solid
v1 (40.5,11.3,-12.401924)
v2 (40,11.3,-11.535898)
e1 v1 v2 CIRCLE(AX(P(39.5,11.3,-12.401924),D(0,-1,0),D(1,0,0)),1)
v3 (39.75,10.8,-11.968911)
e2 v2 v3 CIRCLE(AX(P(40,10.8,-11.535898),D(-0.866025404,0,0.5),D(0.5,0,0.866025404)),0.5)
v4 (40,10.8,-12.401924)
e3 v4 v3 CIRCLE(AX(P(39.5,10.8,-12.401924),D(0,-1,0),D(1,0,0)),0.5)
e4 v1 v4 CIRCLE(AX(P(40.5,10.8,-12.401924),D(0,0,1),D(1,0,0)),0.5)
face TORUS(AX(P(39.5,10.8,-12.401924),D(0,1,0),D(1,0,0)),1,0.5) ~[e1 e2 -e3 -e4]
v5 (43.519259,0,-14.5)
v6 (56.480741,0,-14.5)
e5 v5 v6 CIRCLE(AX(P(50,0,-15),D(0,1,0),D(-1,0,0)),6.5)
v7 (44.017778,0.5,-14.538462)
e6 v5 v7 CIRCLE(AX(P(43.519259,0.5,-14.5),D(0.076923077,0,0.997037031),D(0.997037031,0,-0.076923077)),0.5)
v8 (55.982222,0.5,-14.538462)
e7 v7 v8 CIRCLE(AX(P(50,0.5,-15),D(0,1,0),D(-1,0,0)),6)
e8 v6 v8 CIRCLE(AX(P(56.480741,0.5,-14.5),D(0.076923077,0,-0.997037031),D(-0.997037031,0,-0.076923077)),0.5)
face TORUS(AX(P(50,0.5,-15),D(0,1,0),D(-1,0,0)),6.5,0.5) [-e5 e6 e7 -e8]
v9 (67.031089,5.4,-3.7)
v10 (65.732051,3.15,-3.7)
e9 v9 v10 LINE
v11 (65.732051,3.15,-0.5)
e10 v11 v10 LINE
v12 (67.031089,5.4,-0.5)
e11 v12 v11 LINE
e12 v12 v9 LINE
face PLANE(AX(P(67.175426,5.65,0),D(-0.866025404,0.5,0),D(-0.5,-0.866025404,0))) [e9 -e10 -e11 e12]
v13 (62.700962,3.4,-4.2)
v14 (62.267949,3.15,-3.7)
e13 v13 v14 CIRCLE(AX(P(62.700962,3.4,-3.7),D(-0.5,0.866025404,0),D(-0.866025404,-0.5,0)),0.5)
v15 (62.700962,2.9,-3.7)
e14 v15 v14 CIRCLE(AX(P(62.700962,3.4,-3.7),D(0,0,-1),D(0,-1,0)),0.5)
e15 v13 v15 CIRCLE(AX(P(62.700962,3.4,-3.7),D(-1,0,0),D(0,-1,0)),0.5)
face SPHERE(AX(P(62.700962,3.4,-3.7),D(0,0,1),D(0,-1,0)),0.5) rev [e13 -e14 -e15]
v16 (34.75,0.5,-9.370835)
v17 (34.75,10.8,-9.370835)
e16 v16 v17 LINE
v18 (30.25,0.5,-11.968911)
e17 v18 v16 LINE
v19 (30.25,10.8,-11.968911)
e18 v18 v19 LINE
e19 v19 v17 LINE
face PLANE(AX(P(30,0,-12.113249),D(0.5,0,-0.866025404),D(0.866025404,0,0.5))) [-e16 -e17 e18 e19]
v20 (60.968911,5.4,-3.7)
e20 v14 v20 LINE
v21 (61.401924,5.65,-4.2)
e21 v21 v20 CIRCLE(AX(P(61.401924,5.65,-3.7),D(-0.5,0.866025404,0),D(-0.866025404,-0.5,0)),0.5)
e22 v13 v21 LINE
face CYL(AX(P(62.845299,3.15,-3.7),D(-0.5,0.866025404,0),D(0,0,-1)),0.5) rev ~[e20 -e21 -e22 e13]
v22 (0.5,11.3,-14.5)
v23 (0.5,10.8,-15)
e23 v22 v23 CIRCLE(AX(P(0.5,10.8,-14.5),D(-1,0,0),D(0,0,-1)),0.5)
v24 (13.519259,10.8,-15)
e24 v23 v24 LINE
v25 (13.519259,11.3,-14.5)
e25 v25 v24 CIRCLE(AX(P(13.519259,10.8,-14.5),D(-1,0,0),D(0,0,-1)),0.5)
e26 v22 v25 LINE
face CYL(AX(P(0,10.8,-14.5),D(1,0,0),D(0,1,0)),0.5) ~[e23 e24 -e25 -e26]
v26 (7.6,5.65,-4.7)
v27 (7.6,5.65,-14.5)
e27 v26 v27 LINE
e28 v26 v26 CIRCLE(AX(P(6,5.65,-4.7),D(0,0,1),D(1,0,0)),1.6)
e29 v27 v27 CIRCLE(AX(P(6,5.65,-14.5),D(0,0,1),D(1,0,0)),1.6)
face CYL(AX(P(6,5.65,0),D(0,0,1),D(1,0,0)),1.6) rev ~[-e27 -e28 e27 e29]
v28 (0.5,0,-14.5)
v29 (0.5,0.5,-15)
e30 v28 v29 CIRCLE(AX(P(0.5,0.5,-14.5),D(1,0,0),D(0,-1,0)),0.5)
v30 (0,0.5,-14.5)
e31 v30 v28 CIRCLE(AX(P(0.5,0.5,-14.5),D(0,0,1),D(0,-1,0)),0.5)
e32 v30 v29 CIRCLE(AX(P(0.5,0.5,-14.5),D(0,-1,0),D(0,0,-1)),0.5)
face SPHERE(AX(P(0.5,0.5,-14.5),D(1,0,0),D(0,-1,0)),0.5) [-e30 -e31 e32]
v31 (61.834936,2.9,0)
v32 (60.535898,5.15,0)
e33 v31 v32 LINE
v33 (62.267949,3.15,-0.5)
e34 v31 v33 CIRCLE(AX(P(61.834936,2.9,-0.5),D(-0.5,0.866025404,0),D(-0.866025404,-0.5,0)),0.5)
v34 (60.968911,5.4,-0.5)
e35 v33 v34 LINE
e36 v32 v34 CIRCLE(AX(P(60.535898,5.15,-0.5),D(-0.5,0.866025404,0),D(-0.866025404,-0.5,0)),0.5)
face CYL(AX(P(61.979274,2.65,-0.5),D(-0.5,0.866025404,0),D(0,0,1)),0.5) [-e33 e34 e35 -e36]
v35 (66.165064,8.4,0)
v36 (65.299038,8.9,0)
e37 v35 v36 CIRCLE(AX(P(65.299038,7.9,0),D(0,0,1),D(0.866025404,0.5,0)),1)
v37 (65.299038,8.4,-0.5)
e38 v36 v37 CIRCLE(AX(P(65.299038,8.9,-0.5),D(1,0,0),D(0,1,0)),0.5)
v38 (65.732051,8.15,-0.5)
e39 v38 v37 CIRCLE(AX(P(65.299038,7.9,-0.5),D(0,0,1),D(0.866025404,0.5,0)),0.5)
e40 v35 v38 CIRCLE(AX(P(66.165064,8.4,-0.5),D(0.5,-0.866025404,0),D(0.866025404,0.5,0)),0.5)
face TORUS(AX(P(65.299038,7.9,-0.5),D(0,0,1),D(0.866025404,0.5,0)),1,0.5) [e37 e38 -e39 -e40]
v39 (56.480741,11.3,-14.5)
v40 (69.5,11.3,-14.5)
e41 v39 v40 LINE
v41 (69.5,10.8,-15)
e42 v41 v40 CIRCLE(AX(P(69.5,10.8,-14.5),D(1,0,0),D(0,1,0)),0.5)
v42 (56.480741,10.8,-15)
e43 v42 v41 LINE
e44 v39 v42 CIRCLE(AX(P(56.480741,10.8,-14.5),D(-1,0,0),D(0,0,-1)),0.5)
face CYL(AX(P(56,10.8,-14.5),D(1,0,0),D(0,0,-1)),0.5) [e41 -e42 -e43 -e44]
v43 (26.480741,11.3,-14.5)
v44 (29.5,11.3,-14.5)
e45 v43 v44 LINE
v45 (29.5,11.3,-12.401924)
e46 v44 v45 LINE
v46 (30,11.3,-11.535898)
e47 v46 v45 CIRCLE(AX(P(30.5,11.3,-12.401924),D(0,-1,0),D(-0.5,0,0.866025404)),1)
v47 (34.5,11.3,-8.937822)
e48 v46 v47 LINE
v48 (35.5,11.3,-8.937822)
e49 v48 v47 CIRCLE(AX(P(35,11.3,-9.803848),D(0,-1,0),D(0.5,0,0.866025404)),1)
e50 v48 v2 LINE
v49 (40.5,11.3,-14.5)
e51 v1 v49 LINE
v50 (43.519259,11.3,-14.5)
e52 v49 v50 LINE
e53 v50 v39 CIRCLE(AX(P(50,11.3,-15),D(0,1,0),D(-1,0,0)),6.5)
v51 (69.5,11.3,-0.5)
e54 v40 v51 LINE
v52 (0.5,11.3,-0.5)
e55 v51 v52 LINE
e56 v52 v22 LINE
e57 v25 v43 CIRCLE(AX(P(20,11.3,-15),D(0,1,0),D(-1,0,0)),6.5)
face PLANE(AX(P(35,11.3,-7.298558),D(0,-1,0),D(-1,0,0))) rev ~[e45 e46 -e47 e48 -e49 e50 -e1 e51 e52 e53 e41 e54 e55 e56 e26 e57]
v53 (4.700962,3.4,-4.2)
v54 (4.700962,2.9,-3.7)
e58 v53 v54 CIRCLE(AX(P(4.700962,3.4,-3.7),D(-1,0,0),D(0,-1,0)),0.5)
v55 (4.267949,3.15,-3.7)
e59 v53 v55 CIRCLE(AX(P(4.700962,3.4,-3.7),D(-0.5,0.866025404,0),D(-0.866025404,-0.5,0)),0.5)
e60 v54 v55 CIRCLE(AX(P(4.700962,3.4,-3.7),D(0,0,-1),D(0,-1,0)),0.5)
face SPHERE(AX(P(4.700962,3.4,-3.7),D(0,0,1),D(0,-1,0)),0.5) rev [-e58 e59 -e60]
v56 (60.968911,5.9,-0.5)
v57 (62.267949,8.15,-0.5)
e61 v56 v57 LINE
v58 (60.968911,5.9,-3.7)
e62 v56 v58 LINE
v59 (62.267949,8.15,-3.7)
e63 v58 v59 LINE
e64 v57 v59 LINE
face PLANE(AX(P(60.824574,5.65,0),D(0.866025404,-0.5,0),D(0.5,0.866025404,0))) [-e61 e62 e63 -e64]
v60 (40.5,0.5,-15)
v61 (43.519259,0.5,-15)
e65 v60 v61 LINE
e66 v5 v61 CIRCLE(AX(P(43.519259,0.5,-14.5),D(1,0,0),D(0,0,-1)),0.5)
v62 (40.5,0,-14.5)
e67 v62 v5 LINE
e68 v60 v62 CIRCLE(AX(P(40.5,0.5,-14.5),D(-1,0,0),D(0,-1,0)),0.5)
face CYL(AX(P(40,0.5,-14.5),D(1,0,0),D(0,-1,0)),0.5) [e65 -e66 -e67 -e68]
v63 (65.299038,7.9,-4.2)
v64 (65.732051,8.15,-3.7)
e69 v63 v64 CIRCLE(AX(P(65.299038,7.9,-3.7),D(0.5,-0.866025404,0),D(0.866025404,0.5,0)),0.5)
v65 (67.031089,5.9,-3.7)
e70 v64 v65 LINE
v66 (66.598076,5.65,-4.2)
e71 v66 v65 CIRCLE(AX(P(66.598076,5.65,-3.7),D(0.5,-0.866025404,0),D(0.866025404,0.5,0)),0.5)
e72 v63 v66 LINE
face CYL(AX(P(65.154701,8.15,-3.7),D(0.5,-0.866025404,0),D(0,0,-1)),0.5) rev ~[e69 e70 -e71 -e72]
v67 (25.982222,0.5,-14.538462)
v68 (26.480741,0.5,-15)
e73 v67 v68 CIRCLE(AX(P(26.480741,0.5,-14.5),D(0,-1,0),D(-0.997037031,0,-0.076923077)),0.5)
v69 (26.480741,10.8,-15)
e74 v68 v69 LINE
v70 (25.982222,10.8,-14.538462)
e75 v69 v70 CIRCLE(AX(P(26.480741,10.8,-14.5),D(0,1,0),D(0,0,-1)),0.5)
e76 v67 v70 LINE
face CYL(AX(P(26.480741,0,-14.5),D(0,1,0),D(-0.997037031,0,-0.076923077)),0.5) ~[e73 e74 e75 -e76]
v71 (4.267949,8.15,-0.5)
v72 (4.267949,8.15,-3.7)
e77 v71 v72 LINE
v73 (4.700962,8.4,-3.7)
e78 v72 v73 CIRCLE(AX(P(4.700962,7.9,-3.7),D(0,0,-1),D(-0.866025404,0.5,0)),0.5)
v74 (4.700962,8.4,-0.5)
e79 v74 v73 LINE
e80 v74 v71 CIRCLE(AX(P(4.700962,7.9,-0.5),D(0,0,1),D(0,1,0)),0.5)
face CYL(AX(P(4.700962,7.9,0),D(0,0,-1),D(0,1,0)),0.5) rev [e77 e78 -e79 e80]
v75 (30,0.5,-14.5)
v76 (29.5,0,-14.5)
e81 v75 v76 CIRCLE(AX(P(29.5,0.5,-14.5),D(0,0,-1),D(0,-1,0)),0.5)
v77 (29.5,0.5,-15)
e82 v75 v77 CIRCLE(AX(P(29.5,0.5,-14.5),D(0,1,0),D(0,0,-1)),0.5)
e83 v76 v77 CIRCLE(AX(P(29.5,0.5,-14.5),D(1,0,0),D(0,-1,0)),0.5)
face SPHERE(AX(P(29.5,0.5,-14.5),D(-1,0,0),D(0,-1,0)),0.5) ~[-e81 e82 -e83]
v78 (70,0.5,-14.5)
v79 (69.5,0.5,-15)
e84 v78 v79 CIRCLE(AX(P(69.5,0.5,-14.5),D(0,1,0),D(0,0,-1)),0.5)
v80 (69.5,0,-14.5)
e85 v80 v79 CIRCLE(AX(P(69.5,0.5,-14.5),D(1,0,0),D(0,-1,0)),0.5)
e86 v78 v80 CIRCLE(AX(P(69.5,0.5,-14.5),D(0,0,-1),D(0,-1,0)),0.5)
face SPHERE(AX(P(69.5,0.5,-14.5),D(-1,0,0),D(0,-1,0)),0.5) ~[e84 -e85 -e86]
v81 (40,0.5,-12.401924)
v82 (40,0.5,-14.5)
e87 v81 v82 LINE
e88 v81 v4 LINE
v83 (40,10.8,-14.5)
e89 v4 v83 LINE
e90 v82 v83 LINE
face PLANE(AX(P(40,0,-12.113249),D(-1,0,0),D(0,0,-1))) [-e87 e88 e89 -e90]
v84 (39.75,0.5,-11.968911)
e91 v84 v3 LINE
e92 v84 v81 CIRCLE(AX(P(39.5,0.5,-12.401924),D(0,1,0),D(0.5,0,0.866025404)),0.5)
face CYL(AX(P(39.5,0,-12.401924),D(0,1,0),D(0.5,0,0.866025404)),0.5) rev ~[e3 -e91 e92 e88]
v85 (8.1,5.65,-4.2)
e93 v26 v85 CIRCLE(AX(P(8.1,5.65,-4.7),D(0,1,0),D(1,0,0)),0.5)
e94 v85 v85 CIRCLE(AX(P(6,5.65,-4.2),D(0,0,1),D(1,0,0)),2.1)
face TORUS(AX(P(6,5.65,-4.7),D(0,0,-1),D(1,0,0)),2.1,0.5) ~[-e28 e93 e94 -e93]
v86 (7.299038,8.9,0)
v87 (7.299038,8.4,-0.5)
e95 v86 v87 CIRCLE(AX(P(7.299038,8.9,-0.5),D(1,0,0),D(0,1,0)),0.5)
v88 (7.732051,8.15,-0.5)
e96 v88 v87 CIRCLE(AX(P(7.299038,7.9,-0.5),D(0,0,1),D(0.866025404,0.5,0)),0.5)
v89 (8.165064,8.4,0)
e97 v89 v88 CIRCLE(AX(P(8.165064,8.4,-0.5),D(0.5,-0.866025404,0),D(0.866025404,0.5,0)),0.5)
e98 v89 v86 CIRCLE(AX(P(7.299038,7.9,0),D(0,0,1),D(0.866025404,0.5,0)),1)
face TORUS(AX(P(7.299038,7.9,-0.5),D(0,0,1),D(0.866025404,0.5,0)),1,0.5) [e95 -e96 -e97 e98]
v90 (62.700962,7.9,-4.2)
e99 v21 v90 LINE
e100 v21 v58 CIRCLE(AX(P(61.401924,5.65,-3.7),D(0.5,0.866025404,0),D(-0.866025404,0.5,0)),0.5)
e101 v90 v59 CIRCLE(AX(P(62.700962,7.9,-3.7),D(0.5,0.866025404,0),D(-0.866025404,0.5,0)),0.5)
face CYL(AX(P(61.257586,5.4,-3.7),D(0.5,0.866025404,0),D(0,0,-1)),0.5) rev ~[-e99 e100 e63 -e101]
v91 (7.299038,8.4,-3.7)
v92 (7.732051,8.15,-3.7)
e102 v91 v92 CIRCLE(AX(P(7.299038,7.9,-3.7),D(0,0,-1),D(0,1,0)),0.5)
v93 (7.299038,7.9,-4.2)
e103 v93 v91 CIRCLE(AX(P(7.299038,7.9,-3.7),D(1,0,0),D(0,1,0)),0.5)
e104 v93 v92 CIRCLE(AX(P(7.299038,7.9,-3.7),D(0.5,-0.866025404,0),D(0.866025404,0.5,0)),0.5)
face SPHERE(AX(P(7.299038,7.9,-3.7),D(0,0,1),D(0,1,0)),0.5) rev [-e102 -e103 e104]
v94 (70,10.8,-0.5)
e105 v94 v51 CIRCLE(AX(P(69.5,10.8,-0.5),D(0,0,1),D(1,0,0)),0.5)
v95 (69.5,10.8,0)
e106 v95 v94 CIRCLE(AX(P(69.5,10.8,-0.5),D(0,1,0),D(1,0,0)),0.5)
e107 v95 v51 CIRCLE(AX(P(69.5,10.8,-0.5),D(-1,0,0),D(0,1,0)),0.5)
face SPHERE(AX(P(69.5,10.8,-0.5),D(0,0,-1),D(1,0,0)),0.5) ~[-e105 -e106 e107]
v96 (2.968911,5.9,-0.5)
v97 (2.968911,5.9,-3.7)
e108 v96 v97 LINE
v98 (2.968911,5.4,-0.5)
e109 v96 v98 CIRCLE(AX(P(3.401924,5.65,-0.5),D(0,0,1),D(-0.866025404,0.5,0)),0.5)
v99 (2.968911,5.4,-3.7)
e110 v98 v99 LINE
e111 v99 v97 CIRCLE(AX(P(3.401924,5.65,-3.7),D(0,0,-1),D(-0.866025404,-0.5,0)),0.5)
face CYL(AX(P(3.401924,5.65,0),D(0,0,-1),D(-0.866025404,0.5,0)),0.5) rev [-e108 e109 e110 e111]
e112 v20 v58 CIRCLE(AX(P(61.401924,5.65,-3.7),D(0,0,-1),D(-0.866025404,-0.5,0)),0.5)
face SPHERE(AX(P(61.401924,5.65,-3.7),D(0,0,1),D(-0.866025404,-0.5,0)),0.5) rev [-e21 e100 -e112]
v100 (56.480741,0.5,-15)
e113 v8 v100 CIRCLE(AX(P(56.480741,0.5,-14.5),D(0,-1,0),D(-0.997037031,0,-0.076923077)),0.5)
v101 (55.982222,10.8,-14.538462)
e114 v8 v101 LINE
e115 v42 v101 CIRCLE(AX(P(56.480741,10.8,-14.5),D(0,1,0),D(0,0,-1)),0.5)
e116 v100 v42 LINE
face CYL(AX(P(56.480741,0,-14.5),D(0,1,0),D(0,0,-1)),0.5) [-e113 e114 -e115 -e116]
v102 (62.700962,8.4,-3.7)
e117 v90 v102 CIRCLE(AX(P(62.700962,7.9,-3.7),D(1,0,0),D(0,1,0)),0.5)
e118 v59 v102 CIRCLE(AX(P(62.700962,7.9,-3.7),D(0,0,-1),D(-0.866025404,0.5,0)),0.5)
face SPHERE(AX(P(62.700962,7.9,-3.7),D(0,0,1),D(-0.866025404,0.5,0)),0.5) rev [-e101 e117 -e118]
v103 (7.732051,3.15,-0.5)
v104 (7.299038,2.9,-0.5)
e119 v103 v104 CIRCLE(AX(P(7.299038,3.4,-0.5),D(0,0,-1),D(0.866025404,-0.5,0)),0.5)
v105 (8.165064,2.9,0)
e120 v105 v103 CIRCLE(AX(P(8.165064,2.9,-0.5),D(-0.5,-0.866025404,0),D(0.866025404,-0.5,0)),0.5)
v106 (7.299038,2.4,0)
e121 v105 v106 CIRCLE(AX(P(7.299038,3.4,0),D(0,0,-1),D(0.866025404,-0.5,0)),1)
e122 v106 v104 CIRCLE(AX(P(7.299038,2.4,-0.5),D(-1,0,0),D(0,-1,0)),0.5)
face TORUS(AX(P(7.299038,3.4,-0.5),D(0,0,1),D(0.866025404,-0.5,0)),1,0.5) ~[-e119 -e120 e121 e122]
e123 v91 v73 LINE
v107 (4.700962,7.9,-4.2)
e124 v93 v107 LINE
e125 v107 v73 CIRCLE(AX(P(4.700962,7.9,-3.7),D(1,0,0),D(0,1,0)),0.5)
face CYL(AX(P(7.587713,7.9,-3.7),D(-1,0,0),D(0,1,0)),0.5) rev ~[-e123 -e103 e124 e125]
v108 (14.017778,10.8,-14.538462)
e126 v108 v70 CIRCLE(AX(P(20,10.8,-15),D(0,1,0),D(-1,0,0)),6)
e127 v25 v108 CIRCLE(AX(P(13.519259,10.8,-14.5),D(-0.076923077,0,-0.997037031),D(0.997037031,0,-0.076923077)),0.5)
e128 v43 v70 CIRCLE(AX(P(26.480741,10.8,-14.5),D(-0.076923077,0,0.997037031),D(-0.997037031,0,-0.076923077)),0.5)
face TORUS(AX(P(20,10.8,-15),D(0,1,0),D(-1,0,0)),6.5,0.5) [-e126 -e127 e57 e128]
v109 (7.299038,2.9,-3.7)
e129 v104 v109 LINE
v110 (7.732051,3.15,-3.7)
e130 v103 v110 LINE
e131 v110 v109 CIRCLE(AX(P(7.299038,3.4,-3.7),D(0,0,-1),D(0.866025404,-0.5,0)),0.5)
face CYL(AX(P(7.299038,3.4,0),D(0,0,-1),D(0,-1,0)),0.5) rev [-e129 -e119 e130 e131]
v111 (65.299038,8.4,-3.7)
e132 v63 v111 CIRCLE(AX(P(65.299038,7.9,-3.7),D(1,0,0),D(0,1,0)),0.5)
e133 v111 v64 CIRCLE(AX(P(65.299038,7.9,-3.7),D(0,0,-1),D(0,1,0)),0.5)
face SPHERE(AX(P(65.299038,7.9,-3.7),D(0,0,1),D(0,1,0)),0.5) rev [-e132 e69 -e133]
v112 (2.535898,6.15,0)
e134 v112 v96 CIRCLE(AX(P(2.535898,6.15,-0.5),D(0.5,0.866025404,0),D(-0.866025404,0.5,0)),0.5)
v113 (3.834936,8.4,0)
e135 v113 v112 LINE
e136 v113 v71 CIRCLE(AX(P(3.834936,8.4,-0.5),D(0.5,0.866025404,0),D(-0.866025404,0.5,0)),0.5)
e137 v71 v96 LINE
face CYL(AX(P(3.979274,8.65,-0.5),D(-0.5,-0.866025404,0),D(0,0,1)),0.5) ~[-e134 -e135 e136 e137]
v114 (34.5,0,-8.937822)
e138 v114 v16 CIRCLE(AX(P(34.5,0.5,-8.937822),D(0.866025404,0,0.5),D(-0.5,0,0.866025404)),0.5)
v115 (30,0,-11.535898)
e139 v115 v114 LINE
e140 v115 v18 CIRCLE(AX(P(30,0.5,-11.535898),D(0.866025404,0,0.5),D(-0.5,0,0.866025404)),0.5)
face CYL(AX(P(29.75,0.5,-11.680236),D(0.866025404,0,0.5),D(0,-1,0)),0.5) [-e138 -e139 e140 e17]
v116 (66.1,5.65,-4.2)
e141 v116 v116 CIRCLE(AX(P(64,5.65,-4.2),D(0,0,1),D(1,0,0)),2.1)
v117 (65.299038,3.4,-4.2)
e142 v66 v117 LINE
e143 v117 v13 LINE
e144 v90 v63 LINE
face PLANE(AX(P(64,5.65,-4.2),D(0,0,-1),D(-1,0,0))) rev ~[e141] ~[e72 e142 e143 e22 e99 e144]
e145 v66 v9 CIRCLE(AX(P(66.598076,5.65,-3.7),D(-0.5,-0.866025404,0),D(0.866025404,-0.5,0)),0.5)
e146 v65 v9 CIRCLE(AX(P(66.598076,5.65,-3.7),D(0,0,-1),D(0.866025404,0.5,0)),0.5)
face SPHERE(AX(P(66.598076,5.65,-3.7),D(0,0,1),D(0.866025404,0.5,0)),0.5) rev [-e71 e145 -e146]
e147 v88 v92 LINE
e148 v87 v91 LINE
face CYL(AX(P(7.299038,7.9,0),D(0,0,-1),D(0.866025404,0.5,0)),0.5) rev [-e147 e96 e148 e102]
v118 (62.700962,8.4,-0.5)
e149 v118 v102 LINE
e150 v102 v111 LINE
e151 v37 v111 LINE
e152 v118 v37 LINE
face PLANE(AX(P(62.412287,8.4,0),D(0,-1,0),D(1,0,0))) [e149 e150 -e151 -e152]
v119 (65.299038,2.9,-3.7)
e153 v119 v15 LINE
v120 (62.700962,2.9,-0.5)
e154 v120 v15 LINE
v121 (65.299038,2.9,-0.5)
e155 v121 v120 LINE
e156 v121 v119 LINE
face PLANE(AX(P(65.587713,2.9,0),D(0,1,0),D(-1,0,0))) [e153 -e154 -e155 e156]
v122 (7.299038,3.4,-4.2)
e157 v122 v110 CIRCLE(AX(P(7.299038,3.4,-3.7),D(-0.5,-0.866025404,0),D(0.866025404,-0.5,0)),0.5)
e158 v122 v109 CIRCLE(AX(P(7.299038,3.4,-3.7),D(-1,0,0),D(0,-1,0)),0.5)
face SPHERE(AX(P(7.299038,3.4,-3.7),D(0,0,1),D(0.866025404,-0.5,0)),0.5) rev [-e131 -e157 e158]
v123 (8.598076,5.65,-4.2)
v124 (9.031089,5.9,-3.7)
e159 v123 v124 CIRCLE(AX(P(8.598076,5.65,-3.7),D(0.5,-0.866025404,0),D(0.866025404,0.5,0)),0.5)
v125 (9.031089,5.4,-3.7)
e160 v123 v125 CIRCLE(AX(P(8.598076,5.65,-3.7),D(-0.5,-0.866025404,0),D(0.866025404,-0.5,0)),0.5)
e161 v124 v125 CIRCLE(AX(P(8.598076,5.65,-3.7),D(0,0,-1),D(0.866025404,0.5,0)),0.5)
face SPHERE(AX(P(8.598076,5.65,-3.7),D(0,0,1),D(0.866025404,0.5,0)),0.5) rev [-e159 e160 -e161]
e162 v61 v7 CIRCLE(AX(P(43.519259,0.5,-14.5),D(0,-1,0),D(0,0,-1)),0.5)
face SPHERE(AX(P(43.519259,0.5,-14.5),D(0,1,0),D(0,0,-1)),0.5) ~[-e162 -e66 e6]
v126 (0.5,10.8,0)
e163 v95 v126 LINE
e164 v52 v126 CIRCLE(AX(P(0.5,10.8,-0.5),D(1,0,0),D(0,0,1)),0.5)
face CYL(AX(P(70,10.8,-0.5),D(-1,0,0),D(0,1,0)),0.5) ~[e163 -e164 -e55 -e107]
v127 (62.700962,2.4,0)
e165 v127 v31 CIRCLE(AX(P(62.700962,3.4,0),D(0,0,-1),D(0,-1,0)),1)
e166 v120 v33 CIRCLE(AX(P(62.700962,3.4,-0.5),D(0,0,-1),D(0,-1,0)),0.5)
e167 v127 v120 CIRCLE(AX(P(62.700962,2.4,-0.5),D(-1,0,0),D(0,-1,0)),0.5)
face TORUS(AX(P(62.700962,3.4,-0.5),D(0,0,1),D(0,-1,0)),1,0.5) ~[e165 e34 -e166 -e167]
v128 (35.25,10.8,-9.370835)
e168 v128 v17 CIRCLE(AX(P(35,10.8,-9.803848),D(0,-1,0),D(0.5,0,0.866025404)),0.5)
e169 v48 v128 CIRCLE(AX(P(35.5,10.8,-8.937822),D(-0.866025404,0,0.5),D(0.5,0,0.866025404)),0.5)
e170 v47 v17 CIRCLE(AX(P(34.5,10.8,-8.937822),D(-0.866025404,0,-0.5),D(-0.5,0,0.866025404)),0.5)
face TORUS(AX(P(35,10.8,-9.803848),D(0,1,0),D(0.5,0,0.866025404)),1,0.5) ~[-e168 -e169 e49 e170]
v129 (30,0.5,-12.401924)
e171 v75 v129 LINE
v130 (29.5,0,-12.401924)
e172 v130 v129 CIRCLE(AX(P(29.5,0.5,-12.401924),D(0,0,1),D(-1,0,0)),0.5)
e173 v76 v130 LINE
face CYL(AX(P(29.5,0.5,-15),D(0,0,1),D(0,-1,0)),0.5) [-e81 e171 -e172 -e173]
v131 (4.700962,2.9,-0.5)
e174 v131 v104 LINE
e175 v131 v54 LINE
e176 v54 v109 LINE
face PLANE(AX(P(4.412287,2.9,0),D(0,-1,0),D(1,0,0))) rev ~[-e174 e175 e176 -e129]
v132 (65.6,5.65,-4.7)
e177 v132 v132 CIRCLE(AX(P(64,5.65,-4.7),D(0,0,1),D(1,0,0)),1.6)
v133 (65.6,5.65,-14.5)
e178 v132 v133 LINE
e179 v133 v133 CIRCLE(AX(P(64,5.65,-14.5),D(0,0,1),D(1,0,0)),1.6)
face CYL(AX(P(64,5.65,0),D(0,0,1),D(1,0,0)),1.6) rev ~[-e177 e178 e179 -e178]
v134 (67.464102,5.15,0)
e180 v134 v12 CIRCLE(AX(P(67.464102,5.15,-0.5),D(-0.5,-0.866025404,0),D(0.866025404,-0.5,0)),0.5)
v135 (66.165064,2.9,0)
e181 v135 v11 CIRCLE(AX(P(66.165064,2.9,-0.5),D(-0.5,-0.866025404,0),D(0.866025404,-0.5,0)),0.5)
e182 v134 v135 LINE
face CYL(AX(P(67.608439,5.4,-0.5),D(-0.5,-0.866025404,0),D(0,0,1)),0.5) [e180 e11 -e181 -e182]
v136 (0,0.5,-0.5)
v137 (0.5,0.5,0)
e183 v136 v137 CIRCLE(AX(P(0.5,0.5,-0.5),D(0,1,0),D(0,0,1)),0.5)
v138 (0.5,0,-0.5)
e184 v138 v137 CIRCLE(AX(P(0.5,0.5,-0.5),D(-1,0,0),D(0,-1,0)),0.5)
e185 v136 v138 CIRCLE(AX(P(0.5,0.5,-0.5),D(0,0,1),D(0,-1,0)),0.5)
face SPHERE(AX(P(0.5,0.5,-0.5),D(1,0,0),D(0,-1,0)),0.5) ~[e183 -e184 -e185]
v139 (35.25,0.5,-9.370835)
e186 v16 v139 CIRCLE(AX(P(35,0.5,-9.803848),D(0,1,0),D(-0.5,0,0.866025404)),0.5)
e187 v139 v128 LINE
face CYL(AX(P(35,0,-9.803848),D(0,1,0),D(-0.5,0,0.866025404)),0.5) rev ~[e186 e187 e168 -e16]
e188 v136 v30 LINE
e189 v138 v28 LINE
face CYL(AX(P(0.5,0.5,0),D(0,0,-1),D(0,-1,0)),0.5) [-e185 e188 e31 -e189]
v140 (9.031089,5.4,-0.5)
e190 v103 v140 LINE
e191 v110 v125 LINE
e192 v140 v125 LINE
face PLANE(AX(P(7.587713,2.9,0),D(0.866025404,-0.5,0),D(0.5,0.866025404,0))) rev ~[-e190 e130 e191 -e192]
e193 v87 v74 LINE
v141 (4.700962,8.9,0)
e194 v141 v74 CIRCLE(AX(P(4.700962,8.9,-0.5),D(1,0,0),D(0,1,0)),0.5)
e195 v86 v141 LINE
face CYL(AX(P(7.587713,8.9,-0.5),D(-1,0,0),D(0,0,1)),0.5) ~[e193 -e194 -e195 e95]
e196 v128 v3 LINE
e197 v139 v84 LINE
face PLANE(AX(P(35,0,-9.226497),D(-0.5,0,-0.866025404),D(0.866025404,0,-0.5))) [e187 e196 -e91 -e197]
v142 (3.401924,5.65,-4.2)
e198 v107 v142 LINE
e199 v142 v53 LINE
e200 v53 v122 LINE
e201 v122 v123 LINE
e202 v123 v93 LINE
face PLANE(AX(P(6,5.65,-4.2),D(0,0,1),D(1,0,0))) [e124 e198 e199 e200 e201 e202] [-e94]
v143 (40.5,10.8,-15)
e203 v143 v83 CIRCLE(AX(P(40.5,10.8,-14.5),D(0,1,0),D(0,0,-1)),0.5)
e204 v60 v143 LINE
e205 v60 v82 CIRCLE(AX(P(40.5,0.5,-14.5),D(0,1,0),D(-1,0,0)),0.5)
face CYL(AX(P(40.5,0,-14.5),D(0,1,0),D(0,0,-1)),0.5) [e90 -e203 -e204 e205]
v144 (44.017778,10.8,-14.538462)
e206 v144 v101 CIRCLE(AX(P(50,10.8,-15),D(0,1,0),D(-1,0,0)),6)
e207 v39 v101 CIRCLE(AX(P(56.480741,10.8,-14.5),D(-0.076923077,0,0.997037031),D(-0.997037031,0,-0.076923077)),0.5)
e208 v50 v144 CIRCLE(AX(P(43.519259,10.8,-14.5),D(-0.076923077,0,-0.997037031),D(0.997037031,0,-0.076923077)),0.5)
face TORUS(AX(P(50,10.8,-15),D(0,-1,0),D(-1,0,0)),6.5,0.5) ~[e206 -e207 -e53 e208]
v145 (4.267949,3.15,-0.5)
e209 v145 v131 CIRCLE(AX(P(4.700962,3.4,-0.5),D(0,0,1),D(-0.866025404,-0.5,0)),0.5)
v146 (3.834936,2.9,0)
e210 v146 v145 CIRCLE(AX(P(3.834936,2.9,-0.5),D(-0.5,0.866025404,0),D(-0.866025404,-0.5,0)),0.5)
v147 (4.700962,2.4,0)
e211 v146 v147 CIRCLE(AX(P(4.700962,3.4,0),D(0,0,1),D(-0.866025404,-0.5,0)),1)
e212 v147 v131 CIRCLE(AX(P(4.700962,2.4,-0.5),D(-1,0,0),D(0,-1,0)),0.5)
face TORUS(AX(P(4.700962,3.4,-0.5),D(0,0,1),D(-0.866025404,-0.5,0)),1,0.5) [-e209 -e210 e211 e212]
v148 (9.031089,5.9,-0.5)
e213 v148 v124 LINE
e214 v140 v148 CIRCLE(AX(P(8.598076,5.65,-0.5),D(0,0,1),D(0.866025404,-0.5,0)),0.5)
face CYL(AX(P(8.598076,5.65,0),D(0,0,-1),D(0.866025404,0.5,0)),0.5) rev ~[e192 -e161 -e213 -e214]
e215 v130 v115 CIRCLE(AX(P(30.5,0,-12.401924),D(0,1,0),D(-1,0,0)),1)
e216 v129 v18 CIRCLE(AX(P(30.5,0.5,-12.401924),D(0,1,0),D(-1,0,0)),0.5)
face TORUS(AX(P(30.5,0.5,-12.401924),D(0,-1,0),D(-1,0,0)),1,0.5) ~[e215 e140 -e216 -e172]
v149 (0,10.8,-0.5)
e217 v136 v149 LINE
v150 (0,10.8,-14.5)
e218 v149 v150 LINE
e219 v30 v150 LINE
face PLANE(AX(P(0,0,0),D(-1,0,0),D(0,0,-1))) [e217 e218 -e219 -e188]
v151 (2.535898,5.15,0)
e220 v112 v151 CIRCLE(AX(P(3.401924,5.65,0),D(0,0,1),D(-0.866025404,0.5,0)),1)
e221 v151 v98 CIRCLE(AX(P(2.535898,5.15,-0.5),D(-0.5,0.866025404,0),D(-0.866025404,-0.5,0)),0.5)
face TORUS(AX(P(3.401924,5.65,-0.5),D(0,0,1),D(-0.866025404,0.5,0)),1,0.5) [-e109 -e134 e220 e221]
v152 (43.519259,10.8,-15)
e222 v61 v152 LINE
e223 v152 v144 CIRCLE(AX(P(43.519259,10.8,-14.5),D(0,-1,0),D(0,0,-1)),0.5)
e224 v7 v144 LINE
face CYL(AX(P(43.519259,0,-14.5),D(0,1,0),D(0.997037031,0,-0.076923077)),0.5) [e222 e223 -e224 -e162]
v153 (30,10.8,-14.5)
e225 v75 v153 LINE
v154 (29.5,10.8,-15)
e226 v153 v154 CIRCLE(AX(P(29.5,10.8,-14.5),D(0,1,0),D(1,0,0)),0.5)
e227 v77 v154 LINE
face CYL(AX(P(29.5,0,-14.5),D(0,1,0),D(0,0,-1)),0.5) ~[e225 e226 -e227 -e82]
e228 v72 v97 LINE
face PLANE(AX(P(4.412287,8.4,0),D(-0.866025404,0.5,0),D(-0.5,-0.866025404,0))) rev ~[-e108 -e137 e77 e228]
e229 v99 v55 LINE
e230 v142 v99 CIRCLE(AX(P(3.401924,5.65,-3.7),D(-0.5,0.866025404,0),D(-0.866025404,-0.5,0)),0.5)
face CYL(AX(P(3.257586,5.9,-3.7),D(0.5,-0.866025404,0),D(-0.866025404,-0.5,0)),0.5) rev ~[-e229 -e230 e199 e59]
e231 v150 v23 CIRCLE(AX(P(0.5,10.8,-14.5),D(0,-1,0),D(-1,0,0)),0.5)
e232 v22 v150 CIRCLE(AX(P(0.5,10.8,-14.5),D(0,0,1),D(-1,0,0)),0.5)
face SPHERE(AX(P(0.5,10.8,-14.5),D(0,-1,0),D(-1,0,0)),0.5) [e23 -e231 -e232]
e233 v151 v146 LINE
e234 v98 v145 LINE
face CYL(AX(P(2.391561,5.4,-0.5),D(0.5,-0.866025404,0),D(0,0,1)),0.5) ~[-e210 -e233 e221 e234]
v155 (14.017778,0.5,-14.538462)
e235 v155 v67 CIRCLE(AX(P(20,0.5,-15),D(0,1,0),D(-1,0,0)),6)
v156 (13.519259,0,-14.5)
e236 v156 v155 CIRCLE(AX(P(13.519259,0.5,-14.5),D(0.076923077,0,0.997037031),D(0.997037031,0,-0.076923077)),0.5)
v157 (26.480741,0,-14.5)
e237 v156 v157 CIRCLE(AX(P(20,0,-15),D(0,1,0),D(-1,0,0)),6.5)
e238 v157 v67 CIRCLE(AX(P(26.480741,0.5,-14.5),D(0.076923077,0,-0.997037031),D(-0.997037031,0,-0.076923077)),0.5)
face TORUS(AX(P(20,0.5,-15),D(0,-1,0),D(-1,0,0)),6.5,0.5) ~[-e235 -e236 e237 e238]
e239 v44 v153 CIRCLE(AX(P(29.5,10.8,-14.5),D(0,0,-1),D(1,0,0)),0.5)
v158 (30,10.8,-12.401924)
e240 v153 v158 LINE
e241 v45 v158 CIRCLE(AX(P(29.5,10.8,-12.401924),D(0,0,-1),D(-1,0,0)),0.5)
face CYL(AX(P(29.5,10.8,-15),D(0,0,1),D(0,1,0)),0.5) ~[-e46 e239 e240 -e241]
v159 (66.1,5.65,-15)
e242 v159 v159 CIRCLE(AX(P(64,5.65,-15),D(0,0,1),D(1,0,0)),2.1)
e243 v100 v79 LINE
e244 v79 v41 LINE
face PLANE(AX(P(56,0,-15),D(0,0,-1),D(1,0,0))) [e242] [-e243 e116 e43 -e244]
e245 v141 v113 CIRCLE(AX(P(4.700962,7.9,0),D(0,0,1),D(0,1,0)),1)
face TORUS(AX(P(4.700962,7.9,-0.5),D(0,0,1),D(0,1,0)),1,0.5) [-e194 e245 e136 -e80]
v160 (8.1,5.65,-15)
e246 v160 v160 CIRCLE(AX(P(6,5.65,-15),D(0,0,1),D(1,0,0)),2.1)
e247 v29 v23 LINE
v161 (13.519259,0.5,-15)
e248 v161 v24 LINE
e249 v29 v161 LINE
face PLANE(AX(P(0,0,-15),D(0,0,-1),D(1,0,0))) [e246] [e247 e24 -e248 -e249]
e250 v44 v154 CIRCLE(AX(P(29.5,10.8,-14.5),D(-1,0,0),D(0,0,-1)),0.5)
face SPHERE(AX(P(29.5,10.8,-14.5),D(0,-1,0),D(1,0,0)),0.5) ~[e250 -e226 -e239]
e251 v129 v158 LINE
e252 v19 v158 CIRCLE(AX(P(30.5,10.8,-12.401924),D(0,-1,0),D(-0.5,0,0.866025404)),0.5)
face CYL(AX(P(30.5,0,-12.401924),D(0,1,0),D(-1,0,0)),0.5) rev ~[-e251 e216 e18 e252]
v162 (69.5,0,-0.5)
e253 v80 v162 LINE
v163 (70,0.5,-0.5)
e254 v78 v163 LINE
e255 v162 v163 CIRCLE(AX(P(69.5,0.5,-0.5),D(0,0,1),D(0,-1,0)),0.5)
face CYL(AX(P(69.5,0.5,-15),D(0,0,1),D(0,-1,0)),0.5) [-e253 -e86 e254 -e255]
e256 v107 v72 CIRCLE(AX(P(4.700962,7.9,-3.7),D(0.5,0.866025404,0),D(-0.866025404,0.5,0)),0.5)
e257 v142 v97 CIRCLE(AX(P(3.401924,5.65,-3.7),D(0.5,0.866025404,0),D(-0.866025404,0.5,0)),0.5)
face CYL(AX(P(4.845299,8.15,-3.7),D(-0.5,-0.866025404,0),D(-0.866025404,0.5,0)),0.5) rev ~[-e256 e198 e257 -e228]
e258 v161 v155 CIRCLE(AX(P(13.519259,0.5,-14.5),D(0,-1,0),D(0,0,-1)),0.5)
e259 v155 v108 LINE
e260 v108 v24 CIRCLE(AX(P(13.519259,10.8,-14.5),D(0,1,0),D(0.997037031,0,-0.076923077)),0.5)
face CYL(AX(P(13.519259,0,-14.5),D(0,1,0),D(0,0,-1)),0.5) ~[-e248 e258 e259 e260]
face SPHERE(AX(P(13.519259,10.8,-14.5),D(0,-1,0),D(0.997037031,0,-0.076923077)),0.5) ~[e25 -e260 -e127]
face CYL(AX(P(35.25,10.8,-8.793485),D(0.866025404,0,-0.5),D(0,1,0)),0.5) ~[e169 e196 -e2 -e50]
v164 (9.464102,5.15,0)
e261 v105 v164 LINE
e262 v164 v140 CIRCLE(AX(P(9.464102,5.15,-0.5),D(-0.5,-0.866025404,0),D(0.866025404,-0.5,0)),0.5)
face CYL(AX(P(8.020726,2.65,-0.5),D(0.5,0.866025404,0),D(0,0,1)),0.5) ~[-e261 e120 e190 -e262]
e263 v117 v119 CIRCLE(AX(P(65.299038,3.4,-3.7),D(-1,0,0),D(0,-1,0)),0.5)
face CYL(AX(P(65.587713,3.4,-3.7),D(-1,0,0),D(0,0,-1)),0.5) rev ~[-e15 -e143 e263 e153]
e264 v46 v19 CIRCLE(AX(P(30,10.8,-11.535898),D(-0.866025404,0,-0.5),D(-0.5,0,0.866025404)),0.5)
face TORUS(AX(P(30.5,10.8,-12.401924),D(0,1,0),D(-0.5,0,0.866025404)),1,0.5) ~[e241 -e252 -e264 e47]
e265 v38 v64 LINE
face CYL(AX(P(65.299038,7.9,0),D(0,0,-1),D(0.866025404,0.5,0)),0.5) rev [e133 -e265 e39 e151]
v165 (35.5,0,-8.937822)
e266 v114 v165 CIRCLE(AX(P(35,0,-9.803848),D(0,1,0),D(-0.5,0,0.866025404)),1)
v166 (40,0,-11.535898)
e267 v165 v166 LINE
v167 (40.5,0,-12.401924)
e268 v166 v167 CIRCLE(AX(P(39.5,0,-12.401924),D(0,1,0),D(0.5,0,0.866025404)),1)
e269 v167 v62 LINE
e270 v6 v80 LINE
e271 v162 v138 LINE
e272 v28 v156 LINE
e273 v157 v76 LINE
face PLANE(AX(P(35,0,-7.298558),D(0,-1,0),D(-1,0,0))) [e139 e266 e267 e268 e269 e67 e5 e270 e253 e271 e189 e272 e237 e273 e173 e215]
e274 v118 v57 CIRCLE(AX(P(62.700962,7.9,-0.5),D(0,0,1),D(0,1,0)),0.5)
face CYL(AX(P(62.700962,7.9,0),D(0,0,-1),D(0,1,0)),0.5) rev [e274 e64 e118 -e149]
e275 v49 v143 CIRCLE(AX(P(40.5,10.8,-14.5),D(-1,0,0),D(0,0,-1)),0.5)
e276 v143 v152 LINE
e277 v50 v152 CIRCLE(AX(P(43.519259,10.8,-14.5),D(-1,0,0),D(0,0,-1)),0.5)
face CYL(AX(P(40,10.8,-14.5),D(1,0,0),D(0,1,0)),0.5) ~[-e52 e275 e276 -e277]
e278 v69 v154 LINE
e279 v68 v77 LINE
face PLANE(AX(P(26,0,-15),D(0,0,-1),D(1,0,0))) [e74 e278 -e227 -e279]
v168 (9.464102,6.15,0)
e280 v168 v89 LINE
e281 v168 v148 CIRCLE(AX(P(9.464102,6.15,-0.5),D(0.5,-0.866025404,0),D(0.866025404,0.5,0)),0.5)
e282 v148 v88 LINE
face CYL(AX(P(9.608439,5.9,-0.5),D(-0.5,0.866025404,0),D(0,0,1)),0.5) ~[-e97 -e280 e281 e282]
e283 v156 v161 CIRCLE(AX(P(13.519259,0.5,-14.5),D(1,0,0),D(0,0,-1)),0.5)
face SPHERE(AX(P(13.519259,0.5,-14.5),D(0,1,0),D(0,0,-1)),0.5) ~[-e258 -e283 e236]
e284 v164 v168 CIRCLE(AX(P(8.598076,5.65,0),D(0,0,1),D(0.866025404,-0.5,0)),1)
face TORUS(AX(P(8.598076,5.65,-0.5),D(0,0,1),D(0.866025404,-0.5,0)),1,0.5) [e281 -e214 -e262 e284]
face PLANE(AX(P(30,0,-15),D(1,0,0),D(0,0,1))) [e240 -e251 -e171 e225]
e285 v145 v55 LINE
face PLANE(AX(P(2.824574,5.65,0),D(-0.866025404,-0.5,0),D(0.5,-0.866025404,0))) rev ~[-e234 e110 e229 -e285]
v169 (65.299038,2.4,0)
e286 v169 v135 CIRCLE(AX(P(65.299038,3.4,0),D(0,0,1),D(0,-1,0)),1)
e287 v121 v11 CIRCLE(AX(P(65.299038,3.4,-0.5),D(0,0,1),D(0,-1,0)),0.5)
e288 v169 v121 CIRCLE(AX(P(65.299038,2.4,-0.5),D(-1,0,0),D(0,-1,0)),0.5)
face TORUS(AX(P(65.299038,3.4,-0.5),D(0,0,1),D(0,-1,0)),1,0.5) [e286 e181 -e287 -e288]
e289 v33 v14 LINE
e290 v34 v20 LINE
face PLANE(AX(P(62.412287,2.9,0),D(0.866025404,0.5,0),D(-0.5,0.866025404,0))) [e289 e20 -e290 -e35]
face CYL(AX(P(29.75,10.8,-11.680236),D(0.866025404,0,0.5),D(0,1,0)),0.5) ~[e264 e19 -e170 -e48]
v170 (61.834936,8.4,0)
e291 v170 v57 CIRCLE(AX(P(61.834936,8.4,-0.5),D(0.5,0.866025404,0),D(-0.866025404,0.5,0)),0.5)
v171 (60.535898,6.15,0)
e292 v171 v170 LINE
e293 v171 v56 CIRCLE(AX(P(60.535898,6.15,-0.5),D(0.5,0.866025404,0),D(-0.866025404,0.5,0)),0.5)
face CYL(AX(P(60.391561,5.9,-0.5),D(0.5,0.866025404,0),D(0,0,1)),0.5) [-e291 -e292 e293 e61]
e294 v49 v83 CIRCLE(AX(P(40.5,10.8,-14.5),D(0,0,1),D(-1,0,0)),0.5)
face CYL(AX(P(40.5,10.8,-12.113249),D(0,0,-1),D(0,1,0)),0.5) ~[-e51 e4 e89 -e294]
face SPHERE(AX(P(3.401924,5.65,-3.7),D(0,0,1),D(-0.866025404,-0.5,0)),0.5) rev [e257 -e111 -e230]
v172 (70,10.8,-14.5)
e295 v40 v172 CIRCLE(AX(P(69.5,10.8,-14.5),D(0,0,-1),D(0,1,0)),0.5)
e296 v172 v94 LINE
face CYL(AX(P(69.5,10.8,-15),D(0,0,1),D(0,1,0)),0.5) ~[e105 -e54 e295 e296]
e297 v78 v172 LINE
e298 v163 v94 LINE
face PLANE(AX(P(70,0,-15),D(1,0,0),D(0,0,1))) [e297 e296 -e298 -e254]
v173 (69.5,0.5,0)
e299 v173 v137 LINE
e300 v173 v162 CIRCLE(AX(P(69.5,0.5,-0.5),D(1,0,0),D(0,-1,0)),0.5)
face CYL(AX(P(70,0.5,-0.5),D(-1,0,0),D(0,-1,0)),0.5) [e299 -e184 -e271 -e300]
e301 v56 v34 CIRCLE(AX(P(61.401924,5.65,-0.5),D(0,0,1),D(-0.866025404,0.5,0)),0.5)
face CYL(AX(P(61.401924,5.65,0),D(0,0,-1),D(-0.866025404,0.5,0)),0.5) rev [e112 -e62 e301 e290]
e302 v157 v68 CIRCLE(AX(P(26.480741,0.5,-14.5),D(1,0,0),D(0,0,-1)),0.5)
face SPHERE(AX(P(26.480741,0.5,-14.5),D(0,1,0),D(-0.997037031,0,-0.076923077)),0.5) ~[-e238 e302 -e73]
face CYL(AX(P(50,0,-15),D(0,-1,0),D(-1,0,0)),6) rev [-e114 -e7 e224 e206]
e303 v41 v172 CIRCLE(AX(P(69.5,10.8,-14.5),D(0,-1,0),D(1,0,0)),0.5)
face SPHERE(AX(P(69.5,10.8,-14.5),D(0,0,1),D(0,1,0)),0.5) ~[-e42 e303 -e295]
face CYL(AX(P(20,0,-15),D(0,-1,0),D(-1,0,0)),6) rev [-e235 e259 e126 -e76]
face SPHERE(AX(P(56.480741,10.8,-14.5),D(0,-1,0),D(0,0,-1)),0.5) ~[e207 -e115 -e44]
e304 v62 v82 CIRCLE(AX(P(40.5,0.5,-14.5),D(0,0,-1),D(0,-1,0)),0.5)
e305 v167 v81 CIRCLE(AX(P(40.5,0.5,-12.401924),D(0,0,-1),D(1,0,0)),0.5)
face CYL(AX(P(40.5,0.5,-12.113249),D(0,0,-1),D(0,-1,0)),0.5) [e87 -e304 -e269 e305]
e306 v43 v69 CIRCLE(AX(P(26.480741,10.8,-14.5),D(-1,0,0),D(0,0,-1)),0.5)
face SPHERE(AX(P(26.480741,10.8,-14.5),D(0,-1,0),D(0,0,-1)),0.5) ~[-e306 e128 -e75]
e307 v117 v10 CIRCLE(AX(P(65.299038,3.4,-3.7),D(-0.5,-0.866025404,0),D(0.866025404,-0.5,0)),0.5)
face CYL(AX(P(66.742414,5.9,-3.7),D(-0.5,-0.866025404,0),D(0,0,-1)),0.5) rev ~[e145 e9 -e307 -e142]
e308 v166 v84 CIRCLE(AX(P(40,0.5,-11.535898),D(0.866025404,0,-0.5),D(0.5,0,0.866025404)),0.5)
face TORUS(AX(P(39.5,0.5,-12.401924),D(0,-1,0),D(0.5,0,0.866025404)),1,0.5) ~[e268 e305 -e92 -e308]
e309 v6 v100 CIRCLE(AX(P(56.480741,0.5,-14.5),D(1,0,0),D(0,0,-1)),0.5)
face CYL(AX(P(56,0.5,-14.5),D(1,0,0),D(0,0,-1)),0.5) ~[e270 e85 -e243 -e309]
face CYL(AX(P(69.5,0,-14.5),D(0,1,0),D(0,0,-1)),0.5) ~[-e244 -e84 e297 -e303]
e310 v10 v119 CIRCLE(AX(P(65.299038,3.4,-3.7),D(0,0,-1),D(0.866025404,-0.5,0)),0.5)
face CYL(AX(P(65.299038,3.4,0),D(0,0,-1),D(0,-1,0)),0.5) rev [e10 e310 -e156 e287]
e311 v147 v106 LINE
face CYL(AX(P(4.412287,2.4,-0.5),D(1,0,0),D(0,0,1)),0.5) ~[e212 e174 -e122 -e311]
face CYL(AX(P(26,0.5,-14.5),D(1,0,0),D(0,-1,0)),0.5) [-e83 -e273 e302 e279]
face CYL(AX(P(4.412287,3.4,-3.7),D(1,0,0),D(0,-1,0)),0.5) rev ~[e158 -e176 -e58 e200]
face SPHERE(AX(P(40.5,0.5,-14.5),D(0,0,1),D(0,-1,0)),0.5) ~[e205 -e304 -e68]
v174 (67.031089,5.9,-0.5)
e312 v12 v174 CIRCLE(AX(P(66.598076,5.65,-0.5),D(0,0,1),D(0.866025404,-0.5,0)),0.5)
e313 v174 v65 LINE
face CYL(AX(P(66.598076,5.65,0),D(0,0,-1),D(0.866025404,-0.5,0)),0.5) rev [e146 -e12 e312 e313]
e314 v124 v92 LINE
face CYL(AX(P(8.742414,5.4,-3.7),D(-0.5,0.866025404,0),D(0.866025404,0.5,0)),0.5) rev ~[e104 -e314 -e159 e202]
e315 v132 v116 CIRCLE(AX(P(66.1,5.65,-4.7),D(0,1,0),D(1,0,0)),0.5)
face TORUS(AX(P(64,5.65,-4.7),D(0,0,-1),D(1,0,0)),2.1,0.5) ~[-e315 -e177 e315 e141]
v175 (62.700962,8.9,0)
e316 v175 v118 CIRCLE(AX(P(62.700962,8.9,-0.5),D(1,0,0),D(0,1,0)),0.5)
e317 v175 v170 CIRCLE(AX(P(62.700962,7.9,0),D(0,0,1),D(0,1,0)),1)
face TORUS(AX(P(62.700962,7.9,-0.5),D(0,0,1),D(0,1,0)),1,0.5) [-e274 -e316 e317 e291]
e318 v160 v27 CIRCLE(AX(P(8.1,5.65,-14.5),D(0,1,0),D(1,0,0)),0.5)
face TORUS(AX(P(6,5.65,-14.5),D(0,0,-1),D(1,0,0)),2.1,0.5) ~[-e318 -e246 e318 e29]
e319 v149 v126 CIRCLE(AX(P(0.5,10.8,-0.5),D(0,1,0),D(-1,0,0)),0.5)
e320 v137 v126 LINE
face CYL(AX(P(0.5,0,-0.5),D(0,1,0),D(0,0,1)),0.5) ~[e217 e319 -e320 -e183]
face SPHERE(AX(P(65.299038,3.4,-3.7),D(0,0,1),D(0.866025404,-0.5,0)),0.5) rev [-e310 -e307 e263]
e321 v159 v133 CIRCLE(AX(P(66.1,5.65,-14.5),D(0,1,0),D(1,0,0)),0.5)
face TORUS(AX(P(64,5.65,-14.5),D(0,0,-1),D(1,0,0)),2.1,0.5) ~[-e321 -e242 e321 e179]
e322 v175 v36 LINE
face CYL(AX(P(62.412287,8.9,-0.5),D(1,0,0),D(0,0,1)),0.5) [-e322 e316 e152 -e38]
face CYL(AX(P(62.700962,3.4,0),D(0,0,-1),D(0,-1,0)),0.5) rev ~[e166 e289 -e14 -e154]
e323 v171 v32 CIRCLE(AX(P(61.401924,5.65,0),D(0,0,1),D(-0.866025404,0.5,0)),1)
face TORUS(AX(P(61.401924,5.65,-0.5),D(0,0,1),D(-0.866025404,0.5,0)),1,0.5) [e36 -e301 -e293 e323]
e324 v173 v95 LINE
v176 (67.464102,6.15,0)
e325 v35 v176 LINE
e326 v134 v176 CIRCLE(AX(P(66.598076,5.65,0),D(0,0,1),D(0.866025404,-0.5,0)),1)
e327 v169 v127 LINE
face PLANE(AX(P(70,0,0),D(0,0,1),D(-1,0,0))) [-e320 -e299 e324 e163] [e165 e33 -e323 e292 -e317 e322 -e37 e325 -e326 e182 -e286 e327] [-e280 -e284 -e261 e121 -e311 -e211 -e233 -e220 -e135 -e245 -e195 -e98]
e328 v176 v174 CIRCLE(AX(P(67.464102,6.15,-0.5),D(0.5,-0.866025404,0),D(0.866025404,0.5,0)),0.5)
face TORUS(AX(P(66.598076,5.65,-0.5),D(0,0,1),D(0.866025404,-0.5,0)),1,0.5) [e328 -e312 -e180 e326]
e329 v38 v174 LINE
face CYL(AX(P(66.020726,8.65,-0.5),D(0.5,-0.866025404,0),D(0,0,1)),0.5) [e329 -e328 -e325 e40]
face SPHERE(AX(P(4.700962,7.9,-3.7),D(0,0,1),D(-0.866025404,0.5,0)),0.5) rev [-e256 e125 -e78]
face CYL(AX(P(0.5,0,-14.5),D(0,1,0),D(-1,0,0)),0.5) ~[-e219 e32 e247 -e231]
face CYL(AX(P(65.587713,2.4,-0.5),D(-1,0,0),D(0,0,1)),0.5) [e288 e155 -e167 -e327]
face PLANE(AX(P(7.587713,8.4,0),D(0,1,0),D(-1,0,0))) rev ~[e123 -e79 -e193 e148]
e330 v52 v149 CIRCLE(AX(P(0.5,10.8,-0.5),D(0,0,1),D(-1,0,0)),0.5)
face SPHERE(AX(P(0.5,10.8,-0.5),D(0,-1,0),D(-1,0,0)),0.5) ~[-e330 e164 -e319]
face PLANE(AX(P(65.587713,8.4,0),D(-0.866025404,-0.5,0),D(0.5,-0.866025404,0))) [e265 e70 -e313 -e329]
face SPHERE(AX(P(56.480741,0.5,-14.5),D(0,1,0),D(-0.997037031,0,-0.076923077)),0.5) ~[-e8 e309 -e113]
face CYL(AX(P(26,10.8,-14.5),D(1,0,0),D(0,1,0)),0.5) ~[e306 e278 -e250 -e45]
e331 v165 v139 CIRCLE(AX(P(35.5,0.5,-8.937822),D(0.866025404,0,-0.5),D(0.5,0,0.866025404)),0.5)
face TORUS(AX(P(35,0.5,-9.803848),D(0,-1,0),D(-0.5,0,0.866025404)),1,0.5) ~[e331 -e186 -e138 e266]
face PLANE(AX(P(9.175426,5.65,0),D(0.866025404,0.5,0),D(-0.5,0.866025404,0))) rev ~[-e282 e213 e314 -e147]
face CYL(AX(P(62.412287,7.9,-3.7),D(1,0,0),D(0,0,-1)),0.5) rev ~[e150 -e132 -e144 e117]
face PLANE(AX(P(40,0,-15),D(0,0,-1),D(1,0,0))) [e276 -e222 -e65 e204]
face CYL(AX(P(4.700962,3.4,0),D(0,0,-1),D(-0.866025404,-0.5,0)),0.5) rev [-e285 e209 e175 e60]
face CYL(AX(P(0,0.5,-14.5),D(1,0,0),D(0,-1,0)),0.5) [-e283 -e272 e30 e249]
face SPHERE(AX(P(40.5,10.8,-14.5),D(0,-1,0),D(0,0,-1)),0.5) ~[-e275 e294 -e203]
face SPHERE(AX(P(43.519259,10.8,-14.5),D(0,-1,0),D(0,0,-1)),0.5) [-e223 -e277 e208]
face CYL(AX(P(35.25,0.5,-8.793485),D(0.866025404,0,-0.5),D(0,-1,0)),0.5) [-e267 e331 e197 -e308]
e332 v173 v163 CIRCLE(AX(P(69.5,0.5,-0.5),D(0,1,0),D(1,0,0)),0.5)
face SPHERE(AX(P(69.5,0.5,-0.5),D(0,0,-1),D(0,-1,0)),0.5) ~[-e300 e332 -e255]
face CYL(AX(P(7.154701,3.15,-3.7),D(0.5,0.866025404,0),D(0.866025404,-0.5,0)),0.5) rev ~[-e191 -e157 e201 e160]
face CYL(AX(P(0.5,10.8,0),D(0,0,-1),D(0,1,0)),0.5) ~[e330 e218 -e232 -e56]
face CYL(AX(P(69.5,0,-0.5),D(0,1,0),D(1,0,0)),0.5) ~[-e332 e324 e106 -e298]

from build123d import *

# Parameters (mm, degrees)
BOSS_EXTRUDE1_DEPTH = 11.3
SKETCH2_R           = 1.6
CUT_EXTRUDE1_DEPTH  = 73.475444117
CUT_EXTRUDE3_DEPTH  = 4.2
FILLET5_R           = 0.5


with BuildPart() as part:
    # Sketch1 → Boss-Extrude1 (new body)
    with BuildSketch(Plane(origin=(0, 0, 0), x_dir=(1, 0, 0), z_dir=(0, 1, 0))):
        with BuildLine():
            Line((56, 15), (70, 15))
            Line((70, 15), (70, 0))
            Line((70, 0), (0, 0))
            Line((0, 0), (0, 15))
            Line((0, 15), (14, 15))
            ThreePointArc((14, 15), (20, 9), (26, 15))
            Line((26, 15), (30, 15))
            Line((30, 15), (30, 12.113248654))
            Line((30, 12.113248654), (35, 9.226497308))
            Line((35, 9.226497308), (40, 12.113248654))
            Line((40, 12.113248654), (40, 15))
            Line((40, 15), (44, 15))
            ThreePointArc((44, 15), (50, 9), (56, 15))
        make_face()
    extrude(amount=BOSS_EXTRUDE1_DEPTH)

    # Sketch2 → Cut-Extrude1 (cut, through all)
    with BuildSketch(Plane.XY):
        with Locations((6, 5.65)):
            Circle(SKETCH2_R)
        with Locations((64, 5.65)):
            Circle(SKETCH2_R)
    extrude(amount=-CUT_EXTRUDE1_DEPTH, mode=Mode.SUBTRACT)

    # Sketch4 → Cut-Extrude3 (cut)
    with BuildSketch(Plane.XY):
        Polygon((9.175426481, 5.65), (7.58771324, 8.4), (4.41228676, 8.4), (2.824573519, 5.65), (4.41228676, 2.9), (7.58771324, 2.9), align=None)
        Polygon((62.41228676, 2.9), (60.824573519, 5.65), (62.41228676, 8.4), (65.58771324, 8.4), (67.175426481, 5.65), (65.58771324, 2.9), align=None)
    extrude(amount=-CUT_EXTRUDE3_DEPTH, mode=Mode.SUBTRACT)

    # Fillet5
    fillet5_edges = [part.edges().sort_by_distance(p)[0] for p in [
        (70, 11.3, -7.5),
        (7, 0, -15),
        (20, 0, -9),
        (28, 0, -15),
        (30, 0, -13.556624327),
        (32.5, 0, -10.669872981),
        (37.5, 0, -10.669872981),
        (40, 0, -13.556624327),
        (42, 0, -15),
        (50, 0, -9),
        (63, 0, -15),
        (63, 11.3, -15),
        (70, 0, -7.5),
        (35, 0, 0),
        (0, 0, -7.5),
        (50, 11.3, -9),
        (0, 5.65, -15),
        (14, 5.65, -15),
        (26, 5.65, -15),
        (30, 5.65, -15),
        (30, 5.65, -12.113248654),
        (35, 5.65, -9.226497308),
        (40, 5.65, -12.113248654),
        (40, 5.65, -15),
        (44, 5.65, -15),
        (56, 5.65, -15),
        (70, 5.65, -15),
        (70, 5.65, 0),
        (0, 5.65, 0),
        (42, 11.3, -15),
        (40, 11.3, -13.556624327),
        (37.5, 11.3, -10.669872981),
        (32.5, 11.3, -10.669872981),
        (4.4, 5.65, -15),
        (30, 11.3, -13.556624327),
        (62.4, 5.65, -15),
        (28, 11.3, -15),
        (20, 11.3, -9),
        (0, 11.3, -7.5),
        (7, 11.3, -15),
        (8.38156986, 4.275, 0),
        (8.38156986, 7.025, 0),
        (6, 8.4, 0),
        (3.61843014, 7.025, 0),
        (3.61843014, 4.275, 0),
        (6, 2.9, 0),
        (8.38156986, 4.275, -4.2),
        (9.175426481, 5.65, -2.1),
        (6, 2.9, -4.2),
        (7.58771324, 2.9, -2.1),
        (3.61843014, 4.275, -4.2),
        (4.41228676, 2.9, -2.1),
        (3.61843014, 7.025, -4.2),
        (2.824573519, 5.65, -2.1),
        (6, 8.4, -4.2),
        (4.41228676, 8.4, -2.1),
        (8.38156986, 7.025, -4.2),
        (7.58771324, 8.4, -2.1),
        (4.4, 5.65, -4.2),
        (62.4, 5.65, -4.2),
        (64, 2.9, 0),
        (66.38156986, 4.275, 0),
        (66.38156986, 7.025, 0),
        (64, 8.4, 0),
        (61.61843014, 7.025, 0),
        (61.61843014, 4.275, 0),
        (64, 2.9, -4.2),
        (65.58771324, 2.9, -2.1),
        (61.61843014, 4.275, -4.2),
        (62.41228676, 2.9, -2.1),
        (61.61843014, 7.025, -4.2),
        (60.824573519, 5.65, -2.1),
        (64, 8.4, -4.2),
        (62.41228676, 8.4, -2.1),
        (66.38156986, 7.025, -4.2),
        (65.58771324, 8.4, -2.1),
        (66.38156986, 4.275, -4.2),
        (67.175426481, 5.65, -2.1),
        (35, 11.3, 0),
    ]]
    fillet(fillet5_edges, radius=FILLET5_R)


solid = part.part
